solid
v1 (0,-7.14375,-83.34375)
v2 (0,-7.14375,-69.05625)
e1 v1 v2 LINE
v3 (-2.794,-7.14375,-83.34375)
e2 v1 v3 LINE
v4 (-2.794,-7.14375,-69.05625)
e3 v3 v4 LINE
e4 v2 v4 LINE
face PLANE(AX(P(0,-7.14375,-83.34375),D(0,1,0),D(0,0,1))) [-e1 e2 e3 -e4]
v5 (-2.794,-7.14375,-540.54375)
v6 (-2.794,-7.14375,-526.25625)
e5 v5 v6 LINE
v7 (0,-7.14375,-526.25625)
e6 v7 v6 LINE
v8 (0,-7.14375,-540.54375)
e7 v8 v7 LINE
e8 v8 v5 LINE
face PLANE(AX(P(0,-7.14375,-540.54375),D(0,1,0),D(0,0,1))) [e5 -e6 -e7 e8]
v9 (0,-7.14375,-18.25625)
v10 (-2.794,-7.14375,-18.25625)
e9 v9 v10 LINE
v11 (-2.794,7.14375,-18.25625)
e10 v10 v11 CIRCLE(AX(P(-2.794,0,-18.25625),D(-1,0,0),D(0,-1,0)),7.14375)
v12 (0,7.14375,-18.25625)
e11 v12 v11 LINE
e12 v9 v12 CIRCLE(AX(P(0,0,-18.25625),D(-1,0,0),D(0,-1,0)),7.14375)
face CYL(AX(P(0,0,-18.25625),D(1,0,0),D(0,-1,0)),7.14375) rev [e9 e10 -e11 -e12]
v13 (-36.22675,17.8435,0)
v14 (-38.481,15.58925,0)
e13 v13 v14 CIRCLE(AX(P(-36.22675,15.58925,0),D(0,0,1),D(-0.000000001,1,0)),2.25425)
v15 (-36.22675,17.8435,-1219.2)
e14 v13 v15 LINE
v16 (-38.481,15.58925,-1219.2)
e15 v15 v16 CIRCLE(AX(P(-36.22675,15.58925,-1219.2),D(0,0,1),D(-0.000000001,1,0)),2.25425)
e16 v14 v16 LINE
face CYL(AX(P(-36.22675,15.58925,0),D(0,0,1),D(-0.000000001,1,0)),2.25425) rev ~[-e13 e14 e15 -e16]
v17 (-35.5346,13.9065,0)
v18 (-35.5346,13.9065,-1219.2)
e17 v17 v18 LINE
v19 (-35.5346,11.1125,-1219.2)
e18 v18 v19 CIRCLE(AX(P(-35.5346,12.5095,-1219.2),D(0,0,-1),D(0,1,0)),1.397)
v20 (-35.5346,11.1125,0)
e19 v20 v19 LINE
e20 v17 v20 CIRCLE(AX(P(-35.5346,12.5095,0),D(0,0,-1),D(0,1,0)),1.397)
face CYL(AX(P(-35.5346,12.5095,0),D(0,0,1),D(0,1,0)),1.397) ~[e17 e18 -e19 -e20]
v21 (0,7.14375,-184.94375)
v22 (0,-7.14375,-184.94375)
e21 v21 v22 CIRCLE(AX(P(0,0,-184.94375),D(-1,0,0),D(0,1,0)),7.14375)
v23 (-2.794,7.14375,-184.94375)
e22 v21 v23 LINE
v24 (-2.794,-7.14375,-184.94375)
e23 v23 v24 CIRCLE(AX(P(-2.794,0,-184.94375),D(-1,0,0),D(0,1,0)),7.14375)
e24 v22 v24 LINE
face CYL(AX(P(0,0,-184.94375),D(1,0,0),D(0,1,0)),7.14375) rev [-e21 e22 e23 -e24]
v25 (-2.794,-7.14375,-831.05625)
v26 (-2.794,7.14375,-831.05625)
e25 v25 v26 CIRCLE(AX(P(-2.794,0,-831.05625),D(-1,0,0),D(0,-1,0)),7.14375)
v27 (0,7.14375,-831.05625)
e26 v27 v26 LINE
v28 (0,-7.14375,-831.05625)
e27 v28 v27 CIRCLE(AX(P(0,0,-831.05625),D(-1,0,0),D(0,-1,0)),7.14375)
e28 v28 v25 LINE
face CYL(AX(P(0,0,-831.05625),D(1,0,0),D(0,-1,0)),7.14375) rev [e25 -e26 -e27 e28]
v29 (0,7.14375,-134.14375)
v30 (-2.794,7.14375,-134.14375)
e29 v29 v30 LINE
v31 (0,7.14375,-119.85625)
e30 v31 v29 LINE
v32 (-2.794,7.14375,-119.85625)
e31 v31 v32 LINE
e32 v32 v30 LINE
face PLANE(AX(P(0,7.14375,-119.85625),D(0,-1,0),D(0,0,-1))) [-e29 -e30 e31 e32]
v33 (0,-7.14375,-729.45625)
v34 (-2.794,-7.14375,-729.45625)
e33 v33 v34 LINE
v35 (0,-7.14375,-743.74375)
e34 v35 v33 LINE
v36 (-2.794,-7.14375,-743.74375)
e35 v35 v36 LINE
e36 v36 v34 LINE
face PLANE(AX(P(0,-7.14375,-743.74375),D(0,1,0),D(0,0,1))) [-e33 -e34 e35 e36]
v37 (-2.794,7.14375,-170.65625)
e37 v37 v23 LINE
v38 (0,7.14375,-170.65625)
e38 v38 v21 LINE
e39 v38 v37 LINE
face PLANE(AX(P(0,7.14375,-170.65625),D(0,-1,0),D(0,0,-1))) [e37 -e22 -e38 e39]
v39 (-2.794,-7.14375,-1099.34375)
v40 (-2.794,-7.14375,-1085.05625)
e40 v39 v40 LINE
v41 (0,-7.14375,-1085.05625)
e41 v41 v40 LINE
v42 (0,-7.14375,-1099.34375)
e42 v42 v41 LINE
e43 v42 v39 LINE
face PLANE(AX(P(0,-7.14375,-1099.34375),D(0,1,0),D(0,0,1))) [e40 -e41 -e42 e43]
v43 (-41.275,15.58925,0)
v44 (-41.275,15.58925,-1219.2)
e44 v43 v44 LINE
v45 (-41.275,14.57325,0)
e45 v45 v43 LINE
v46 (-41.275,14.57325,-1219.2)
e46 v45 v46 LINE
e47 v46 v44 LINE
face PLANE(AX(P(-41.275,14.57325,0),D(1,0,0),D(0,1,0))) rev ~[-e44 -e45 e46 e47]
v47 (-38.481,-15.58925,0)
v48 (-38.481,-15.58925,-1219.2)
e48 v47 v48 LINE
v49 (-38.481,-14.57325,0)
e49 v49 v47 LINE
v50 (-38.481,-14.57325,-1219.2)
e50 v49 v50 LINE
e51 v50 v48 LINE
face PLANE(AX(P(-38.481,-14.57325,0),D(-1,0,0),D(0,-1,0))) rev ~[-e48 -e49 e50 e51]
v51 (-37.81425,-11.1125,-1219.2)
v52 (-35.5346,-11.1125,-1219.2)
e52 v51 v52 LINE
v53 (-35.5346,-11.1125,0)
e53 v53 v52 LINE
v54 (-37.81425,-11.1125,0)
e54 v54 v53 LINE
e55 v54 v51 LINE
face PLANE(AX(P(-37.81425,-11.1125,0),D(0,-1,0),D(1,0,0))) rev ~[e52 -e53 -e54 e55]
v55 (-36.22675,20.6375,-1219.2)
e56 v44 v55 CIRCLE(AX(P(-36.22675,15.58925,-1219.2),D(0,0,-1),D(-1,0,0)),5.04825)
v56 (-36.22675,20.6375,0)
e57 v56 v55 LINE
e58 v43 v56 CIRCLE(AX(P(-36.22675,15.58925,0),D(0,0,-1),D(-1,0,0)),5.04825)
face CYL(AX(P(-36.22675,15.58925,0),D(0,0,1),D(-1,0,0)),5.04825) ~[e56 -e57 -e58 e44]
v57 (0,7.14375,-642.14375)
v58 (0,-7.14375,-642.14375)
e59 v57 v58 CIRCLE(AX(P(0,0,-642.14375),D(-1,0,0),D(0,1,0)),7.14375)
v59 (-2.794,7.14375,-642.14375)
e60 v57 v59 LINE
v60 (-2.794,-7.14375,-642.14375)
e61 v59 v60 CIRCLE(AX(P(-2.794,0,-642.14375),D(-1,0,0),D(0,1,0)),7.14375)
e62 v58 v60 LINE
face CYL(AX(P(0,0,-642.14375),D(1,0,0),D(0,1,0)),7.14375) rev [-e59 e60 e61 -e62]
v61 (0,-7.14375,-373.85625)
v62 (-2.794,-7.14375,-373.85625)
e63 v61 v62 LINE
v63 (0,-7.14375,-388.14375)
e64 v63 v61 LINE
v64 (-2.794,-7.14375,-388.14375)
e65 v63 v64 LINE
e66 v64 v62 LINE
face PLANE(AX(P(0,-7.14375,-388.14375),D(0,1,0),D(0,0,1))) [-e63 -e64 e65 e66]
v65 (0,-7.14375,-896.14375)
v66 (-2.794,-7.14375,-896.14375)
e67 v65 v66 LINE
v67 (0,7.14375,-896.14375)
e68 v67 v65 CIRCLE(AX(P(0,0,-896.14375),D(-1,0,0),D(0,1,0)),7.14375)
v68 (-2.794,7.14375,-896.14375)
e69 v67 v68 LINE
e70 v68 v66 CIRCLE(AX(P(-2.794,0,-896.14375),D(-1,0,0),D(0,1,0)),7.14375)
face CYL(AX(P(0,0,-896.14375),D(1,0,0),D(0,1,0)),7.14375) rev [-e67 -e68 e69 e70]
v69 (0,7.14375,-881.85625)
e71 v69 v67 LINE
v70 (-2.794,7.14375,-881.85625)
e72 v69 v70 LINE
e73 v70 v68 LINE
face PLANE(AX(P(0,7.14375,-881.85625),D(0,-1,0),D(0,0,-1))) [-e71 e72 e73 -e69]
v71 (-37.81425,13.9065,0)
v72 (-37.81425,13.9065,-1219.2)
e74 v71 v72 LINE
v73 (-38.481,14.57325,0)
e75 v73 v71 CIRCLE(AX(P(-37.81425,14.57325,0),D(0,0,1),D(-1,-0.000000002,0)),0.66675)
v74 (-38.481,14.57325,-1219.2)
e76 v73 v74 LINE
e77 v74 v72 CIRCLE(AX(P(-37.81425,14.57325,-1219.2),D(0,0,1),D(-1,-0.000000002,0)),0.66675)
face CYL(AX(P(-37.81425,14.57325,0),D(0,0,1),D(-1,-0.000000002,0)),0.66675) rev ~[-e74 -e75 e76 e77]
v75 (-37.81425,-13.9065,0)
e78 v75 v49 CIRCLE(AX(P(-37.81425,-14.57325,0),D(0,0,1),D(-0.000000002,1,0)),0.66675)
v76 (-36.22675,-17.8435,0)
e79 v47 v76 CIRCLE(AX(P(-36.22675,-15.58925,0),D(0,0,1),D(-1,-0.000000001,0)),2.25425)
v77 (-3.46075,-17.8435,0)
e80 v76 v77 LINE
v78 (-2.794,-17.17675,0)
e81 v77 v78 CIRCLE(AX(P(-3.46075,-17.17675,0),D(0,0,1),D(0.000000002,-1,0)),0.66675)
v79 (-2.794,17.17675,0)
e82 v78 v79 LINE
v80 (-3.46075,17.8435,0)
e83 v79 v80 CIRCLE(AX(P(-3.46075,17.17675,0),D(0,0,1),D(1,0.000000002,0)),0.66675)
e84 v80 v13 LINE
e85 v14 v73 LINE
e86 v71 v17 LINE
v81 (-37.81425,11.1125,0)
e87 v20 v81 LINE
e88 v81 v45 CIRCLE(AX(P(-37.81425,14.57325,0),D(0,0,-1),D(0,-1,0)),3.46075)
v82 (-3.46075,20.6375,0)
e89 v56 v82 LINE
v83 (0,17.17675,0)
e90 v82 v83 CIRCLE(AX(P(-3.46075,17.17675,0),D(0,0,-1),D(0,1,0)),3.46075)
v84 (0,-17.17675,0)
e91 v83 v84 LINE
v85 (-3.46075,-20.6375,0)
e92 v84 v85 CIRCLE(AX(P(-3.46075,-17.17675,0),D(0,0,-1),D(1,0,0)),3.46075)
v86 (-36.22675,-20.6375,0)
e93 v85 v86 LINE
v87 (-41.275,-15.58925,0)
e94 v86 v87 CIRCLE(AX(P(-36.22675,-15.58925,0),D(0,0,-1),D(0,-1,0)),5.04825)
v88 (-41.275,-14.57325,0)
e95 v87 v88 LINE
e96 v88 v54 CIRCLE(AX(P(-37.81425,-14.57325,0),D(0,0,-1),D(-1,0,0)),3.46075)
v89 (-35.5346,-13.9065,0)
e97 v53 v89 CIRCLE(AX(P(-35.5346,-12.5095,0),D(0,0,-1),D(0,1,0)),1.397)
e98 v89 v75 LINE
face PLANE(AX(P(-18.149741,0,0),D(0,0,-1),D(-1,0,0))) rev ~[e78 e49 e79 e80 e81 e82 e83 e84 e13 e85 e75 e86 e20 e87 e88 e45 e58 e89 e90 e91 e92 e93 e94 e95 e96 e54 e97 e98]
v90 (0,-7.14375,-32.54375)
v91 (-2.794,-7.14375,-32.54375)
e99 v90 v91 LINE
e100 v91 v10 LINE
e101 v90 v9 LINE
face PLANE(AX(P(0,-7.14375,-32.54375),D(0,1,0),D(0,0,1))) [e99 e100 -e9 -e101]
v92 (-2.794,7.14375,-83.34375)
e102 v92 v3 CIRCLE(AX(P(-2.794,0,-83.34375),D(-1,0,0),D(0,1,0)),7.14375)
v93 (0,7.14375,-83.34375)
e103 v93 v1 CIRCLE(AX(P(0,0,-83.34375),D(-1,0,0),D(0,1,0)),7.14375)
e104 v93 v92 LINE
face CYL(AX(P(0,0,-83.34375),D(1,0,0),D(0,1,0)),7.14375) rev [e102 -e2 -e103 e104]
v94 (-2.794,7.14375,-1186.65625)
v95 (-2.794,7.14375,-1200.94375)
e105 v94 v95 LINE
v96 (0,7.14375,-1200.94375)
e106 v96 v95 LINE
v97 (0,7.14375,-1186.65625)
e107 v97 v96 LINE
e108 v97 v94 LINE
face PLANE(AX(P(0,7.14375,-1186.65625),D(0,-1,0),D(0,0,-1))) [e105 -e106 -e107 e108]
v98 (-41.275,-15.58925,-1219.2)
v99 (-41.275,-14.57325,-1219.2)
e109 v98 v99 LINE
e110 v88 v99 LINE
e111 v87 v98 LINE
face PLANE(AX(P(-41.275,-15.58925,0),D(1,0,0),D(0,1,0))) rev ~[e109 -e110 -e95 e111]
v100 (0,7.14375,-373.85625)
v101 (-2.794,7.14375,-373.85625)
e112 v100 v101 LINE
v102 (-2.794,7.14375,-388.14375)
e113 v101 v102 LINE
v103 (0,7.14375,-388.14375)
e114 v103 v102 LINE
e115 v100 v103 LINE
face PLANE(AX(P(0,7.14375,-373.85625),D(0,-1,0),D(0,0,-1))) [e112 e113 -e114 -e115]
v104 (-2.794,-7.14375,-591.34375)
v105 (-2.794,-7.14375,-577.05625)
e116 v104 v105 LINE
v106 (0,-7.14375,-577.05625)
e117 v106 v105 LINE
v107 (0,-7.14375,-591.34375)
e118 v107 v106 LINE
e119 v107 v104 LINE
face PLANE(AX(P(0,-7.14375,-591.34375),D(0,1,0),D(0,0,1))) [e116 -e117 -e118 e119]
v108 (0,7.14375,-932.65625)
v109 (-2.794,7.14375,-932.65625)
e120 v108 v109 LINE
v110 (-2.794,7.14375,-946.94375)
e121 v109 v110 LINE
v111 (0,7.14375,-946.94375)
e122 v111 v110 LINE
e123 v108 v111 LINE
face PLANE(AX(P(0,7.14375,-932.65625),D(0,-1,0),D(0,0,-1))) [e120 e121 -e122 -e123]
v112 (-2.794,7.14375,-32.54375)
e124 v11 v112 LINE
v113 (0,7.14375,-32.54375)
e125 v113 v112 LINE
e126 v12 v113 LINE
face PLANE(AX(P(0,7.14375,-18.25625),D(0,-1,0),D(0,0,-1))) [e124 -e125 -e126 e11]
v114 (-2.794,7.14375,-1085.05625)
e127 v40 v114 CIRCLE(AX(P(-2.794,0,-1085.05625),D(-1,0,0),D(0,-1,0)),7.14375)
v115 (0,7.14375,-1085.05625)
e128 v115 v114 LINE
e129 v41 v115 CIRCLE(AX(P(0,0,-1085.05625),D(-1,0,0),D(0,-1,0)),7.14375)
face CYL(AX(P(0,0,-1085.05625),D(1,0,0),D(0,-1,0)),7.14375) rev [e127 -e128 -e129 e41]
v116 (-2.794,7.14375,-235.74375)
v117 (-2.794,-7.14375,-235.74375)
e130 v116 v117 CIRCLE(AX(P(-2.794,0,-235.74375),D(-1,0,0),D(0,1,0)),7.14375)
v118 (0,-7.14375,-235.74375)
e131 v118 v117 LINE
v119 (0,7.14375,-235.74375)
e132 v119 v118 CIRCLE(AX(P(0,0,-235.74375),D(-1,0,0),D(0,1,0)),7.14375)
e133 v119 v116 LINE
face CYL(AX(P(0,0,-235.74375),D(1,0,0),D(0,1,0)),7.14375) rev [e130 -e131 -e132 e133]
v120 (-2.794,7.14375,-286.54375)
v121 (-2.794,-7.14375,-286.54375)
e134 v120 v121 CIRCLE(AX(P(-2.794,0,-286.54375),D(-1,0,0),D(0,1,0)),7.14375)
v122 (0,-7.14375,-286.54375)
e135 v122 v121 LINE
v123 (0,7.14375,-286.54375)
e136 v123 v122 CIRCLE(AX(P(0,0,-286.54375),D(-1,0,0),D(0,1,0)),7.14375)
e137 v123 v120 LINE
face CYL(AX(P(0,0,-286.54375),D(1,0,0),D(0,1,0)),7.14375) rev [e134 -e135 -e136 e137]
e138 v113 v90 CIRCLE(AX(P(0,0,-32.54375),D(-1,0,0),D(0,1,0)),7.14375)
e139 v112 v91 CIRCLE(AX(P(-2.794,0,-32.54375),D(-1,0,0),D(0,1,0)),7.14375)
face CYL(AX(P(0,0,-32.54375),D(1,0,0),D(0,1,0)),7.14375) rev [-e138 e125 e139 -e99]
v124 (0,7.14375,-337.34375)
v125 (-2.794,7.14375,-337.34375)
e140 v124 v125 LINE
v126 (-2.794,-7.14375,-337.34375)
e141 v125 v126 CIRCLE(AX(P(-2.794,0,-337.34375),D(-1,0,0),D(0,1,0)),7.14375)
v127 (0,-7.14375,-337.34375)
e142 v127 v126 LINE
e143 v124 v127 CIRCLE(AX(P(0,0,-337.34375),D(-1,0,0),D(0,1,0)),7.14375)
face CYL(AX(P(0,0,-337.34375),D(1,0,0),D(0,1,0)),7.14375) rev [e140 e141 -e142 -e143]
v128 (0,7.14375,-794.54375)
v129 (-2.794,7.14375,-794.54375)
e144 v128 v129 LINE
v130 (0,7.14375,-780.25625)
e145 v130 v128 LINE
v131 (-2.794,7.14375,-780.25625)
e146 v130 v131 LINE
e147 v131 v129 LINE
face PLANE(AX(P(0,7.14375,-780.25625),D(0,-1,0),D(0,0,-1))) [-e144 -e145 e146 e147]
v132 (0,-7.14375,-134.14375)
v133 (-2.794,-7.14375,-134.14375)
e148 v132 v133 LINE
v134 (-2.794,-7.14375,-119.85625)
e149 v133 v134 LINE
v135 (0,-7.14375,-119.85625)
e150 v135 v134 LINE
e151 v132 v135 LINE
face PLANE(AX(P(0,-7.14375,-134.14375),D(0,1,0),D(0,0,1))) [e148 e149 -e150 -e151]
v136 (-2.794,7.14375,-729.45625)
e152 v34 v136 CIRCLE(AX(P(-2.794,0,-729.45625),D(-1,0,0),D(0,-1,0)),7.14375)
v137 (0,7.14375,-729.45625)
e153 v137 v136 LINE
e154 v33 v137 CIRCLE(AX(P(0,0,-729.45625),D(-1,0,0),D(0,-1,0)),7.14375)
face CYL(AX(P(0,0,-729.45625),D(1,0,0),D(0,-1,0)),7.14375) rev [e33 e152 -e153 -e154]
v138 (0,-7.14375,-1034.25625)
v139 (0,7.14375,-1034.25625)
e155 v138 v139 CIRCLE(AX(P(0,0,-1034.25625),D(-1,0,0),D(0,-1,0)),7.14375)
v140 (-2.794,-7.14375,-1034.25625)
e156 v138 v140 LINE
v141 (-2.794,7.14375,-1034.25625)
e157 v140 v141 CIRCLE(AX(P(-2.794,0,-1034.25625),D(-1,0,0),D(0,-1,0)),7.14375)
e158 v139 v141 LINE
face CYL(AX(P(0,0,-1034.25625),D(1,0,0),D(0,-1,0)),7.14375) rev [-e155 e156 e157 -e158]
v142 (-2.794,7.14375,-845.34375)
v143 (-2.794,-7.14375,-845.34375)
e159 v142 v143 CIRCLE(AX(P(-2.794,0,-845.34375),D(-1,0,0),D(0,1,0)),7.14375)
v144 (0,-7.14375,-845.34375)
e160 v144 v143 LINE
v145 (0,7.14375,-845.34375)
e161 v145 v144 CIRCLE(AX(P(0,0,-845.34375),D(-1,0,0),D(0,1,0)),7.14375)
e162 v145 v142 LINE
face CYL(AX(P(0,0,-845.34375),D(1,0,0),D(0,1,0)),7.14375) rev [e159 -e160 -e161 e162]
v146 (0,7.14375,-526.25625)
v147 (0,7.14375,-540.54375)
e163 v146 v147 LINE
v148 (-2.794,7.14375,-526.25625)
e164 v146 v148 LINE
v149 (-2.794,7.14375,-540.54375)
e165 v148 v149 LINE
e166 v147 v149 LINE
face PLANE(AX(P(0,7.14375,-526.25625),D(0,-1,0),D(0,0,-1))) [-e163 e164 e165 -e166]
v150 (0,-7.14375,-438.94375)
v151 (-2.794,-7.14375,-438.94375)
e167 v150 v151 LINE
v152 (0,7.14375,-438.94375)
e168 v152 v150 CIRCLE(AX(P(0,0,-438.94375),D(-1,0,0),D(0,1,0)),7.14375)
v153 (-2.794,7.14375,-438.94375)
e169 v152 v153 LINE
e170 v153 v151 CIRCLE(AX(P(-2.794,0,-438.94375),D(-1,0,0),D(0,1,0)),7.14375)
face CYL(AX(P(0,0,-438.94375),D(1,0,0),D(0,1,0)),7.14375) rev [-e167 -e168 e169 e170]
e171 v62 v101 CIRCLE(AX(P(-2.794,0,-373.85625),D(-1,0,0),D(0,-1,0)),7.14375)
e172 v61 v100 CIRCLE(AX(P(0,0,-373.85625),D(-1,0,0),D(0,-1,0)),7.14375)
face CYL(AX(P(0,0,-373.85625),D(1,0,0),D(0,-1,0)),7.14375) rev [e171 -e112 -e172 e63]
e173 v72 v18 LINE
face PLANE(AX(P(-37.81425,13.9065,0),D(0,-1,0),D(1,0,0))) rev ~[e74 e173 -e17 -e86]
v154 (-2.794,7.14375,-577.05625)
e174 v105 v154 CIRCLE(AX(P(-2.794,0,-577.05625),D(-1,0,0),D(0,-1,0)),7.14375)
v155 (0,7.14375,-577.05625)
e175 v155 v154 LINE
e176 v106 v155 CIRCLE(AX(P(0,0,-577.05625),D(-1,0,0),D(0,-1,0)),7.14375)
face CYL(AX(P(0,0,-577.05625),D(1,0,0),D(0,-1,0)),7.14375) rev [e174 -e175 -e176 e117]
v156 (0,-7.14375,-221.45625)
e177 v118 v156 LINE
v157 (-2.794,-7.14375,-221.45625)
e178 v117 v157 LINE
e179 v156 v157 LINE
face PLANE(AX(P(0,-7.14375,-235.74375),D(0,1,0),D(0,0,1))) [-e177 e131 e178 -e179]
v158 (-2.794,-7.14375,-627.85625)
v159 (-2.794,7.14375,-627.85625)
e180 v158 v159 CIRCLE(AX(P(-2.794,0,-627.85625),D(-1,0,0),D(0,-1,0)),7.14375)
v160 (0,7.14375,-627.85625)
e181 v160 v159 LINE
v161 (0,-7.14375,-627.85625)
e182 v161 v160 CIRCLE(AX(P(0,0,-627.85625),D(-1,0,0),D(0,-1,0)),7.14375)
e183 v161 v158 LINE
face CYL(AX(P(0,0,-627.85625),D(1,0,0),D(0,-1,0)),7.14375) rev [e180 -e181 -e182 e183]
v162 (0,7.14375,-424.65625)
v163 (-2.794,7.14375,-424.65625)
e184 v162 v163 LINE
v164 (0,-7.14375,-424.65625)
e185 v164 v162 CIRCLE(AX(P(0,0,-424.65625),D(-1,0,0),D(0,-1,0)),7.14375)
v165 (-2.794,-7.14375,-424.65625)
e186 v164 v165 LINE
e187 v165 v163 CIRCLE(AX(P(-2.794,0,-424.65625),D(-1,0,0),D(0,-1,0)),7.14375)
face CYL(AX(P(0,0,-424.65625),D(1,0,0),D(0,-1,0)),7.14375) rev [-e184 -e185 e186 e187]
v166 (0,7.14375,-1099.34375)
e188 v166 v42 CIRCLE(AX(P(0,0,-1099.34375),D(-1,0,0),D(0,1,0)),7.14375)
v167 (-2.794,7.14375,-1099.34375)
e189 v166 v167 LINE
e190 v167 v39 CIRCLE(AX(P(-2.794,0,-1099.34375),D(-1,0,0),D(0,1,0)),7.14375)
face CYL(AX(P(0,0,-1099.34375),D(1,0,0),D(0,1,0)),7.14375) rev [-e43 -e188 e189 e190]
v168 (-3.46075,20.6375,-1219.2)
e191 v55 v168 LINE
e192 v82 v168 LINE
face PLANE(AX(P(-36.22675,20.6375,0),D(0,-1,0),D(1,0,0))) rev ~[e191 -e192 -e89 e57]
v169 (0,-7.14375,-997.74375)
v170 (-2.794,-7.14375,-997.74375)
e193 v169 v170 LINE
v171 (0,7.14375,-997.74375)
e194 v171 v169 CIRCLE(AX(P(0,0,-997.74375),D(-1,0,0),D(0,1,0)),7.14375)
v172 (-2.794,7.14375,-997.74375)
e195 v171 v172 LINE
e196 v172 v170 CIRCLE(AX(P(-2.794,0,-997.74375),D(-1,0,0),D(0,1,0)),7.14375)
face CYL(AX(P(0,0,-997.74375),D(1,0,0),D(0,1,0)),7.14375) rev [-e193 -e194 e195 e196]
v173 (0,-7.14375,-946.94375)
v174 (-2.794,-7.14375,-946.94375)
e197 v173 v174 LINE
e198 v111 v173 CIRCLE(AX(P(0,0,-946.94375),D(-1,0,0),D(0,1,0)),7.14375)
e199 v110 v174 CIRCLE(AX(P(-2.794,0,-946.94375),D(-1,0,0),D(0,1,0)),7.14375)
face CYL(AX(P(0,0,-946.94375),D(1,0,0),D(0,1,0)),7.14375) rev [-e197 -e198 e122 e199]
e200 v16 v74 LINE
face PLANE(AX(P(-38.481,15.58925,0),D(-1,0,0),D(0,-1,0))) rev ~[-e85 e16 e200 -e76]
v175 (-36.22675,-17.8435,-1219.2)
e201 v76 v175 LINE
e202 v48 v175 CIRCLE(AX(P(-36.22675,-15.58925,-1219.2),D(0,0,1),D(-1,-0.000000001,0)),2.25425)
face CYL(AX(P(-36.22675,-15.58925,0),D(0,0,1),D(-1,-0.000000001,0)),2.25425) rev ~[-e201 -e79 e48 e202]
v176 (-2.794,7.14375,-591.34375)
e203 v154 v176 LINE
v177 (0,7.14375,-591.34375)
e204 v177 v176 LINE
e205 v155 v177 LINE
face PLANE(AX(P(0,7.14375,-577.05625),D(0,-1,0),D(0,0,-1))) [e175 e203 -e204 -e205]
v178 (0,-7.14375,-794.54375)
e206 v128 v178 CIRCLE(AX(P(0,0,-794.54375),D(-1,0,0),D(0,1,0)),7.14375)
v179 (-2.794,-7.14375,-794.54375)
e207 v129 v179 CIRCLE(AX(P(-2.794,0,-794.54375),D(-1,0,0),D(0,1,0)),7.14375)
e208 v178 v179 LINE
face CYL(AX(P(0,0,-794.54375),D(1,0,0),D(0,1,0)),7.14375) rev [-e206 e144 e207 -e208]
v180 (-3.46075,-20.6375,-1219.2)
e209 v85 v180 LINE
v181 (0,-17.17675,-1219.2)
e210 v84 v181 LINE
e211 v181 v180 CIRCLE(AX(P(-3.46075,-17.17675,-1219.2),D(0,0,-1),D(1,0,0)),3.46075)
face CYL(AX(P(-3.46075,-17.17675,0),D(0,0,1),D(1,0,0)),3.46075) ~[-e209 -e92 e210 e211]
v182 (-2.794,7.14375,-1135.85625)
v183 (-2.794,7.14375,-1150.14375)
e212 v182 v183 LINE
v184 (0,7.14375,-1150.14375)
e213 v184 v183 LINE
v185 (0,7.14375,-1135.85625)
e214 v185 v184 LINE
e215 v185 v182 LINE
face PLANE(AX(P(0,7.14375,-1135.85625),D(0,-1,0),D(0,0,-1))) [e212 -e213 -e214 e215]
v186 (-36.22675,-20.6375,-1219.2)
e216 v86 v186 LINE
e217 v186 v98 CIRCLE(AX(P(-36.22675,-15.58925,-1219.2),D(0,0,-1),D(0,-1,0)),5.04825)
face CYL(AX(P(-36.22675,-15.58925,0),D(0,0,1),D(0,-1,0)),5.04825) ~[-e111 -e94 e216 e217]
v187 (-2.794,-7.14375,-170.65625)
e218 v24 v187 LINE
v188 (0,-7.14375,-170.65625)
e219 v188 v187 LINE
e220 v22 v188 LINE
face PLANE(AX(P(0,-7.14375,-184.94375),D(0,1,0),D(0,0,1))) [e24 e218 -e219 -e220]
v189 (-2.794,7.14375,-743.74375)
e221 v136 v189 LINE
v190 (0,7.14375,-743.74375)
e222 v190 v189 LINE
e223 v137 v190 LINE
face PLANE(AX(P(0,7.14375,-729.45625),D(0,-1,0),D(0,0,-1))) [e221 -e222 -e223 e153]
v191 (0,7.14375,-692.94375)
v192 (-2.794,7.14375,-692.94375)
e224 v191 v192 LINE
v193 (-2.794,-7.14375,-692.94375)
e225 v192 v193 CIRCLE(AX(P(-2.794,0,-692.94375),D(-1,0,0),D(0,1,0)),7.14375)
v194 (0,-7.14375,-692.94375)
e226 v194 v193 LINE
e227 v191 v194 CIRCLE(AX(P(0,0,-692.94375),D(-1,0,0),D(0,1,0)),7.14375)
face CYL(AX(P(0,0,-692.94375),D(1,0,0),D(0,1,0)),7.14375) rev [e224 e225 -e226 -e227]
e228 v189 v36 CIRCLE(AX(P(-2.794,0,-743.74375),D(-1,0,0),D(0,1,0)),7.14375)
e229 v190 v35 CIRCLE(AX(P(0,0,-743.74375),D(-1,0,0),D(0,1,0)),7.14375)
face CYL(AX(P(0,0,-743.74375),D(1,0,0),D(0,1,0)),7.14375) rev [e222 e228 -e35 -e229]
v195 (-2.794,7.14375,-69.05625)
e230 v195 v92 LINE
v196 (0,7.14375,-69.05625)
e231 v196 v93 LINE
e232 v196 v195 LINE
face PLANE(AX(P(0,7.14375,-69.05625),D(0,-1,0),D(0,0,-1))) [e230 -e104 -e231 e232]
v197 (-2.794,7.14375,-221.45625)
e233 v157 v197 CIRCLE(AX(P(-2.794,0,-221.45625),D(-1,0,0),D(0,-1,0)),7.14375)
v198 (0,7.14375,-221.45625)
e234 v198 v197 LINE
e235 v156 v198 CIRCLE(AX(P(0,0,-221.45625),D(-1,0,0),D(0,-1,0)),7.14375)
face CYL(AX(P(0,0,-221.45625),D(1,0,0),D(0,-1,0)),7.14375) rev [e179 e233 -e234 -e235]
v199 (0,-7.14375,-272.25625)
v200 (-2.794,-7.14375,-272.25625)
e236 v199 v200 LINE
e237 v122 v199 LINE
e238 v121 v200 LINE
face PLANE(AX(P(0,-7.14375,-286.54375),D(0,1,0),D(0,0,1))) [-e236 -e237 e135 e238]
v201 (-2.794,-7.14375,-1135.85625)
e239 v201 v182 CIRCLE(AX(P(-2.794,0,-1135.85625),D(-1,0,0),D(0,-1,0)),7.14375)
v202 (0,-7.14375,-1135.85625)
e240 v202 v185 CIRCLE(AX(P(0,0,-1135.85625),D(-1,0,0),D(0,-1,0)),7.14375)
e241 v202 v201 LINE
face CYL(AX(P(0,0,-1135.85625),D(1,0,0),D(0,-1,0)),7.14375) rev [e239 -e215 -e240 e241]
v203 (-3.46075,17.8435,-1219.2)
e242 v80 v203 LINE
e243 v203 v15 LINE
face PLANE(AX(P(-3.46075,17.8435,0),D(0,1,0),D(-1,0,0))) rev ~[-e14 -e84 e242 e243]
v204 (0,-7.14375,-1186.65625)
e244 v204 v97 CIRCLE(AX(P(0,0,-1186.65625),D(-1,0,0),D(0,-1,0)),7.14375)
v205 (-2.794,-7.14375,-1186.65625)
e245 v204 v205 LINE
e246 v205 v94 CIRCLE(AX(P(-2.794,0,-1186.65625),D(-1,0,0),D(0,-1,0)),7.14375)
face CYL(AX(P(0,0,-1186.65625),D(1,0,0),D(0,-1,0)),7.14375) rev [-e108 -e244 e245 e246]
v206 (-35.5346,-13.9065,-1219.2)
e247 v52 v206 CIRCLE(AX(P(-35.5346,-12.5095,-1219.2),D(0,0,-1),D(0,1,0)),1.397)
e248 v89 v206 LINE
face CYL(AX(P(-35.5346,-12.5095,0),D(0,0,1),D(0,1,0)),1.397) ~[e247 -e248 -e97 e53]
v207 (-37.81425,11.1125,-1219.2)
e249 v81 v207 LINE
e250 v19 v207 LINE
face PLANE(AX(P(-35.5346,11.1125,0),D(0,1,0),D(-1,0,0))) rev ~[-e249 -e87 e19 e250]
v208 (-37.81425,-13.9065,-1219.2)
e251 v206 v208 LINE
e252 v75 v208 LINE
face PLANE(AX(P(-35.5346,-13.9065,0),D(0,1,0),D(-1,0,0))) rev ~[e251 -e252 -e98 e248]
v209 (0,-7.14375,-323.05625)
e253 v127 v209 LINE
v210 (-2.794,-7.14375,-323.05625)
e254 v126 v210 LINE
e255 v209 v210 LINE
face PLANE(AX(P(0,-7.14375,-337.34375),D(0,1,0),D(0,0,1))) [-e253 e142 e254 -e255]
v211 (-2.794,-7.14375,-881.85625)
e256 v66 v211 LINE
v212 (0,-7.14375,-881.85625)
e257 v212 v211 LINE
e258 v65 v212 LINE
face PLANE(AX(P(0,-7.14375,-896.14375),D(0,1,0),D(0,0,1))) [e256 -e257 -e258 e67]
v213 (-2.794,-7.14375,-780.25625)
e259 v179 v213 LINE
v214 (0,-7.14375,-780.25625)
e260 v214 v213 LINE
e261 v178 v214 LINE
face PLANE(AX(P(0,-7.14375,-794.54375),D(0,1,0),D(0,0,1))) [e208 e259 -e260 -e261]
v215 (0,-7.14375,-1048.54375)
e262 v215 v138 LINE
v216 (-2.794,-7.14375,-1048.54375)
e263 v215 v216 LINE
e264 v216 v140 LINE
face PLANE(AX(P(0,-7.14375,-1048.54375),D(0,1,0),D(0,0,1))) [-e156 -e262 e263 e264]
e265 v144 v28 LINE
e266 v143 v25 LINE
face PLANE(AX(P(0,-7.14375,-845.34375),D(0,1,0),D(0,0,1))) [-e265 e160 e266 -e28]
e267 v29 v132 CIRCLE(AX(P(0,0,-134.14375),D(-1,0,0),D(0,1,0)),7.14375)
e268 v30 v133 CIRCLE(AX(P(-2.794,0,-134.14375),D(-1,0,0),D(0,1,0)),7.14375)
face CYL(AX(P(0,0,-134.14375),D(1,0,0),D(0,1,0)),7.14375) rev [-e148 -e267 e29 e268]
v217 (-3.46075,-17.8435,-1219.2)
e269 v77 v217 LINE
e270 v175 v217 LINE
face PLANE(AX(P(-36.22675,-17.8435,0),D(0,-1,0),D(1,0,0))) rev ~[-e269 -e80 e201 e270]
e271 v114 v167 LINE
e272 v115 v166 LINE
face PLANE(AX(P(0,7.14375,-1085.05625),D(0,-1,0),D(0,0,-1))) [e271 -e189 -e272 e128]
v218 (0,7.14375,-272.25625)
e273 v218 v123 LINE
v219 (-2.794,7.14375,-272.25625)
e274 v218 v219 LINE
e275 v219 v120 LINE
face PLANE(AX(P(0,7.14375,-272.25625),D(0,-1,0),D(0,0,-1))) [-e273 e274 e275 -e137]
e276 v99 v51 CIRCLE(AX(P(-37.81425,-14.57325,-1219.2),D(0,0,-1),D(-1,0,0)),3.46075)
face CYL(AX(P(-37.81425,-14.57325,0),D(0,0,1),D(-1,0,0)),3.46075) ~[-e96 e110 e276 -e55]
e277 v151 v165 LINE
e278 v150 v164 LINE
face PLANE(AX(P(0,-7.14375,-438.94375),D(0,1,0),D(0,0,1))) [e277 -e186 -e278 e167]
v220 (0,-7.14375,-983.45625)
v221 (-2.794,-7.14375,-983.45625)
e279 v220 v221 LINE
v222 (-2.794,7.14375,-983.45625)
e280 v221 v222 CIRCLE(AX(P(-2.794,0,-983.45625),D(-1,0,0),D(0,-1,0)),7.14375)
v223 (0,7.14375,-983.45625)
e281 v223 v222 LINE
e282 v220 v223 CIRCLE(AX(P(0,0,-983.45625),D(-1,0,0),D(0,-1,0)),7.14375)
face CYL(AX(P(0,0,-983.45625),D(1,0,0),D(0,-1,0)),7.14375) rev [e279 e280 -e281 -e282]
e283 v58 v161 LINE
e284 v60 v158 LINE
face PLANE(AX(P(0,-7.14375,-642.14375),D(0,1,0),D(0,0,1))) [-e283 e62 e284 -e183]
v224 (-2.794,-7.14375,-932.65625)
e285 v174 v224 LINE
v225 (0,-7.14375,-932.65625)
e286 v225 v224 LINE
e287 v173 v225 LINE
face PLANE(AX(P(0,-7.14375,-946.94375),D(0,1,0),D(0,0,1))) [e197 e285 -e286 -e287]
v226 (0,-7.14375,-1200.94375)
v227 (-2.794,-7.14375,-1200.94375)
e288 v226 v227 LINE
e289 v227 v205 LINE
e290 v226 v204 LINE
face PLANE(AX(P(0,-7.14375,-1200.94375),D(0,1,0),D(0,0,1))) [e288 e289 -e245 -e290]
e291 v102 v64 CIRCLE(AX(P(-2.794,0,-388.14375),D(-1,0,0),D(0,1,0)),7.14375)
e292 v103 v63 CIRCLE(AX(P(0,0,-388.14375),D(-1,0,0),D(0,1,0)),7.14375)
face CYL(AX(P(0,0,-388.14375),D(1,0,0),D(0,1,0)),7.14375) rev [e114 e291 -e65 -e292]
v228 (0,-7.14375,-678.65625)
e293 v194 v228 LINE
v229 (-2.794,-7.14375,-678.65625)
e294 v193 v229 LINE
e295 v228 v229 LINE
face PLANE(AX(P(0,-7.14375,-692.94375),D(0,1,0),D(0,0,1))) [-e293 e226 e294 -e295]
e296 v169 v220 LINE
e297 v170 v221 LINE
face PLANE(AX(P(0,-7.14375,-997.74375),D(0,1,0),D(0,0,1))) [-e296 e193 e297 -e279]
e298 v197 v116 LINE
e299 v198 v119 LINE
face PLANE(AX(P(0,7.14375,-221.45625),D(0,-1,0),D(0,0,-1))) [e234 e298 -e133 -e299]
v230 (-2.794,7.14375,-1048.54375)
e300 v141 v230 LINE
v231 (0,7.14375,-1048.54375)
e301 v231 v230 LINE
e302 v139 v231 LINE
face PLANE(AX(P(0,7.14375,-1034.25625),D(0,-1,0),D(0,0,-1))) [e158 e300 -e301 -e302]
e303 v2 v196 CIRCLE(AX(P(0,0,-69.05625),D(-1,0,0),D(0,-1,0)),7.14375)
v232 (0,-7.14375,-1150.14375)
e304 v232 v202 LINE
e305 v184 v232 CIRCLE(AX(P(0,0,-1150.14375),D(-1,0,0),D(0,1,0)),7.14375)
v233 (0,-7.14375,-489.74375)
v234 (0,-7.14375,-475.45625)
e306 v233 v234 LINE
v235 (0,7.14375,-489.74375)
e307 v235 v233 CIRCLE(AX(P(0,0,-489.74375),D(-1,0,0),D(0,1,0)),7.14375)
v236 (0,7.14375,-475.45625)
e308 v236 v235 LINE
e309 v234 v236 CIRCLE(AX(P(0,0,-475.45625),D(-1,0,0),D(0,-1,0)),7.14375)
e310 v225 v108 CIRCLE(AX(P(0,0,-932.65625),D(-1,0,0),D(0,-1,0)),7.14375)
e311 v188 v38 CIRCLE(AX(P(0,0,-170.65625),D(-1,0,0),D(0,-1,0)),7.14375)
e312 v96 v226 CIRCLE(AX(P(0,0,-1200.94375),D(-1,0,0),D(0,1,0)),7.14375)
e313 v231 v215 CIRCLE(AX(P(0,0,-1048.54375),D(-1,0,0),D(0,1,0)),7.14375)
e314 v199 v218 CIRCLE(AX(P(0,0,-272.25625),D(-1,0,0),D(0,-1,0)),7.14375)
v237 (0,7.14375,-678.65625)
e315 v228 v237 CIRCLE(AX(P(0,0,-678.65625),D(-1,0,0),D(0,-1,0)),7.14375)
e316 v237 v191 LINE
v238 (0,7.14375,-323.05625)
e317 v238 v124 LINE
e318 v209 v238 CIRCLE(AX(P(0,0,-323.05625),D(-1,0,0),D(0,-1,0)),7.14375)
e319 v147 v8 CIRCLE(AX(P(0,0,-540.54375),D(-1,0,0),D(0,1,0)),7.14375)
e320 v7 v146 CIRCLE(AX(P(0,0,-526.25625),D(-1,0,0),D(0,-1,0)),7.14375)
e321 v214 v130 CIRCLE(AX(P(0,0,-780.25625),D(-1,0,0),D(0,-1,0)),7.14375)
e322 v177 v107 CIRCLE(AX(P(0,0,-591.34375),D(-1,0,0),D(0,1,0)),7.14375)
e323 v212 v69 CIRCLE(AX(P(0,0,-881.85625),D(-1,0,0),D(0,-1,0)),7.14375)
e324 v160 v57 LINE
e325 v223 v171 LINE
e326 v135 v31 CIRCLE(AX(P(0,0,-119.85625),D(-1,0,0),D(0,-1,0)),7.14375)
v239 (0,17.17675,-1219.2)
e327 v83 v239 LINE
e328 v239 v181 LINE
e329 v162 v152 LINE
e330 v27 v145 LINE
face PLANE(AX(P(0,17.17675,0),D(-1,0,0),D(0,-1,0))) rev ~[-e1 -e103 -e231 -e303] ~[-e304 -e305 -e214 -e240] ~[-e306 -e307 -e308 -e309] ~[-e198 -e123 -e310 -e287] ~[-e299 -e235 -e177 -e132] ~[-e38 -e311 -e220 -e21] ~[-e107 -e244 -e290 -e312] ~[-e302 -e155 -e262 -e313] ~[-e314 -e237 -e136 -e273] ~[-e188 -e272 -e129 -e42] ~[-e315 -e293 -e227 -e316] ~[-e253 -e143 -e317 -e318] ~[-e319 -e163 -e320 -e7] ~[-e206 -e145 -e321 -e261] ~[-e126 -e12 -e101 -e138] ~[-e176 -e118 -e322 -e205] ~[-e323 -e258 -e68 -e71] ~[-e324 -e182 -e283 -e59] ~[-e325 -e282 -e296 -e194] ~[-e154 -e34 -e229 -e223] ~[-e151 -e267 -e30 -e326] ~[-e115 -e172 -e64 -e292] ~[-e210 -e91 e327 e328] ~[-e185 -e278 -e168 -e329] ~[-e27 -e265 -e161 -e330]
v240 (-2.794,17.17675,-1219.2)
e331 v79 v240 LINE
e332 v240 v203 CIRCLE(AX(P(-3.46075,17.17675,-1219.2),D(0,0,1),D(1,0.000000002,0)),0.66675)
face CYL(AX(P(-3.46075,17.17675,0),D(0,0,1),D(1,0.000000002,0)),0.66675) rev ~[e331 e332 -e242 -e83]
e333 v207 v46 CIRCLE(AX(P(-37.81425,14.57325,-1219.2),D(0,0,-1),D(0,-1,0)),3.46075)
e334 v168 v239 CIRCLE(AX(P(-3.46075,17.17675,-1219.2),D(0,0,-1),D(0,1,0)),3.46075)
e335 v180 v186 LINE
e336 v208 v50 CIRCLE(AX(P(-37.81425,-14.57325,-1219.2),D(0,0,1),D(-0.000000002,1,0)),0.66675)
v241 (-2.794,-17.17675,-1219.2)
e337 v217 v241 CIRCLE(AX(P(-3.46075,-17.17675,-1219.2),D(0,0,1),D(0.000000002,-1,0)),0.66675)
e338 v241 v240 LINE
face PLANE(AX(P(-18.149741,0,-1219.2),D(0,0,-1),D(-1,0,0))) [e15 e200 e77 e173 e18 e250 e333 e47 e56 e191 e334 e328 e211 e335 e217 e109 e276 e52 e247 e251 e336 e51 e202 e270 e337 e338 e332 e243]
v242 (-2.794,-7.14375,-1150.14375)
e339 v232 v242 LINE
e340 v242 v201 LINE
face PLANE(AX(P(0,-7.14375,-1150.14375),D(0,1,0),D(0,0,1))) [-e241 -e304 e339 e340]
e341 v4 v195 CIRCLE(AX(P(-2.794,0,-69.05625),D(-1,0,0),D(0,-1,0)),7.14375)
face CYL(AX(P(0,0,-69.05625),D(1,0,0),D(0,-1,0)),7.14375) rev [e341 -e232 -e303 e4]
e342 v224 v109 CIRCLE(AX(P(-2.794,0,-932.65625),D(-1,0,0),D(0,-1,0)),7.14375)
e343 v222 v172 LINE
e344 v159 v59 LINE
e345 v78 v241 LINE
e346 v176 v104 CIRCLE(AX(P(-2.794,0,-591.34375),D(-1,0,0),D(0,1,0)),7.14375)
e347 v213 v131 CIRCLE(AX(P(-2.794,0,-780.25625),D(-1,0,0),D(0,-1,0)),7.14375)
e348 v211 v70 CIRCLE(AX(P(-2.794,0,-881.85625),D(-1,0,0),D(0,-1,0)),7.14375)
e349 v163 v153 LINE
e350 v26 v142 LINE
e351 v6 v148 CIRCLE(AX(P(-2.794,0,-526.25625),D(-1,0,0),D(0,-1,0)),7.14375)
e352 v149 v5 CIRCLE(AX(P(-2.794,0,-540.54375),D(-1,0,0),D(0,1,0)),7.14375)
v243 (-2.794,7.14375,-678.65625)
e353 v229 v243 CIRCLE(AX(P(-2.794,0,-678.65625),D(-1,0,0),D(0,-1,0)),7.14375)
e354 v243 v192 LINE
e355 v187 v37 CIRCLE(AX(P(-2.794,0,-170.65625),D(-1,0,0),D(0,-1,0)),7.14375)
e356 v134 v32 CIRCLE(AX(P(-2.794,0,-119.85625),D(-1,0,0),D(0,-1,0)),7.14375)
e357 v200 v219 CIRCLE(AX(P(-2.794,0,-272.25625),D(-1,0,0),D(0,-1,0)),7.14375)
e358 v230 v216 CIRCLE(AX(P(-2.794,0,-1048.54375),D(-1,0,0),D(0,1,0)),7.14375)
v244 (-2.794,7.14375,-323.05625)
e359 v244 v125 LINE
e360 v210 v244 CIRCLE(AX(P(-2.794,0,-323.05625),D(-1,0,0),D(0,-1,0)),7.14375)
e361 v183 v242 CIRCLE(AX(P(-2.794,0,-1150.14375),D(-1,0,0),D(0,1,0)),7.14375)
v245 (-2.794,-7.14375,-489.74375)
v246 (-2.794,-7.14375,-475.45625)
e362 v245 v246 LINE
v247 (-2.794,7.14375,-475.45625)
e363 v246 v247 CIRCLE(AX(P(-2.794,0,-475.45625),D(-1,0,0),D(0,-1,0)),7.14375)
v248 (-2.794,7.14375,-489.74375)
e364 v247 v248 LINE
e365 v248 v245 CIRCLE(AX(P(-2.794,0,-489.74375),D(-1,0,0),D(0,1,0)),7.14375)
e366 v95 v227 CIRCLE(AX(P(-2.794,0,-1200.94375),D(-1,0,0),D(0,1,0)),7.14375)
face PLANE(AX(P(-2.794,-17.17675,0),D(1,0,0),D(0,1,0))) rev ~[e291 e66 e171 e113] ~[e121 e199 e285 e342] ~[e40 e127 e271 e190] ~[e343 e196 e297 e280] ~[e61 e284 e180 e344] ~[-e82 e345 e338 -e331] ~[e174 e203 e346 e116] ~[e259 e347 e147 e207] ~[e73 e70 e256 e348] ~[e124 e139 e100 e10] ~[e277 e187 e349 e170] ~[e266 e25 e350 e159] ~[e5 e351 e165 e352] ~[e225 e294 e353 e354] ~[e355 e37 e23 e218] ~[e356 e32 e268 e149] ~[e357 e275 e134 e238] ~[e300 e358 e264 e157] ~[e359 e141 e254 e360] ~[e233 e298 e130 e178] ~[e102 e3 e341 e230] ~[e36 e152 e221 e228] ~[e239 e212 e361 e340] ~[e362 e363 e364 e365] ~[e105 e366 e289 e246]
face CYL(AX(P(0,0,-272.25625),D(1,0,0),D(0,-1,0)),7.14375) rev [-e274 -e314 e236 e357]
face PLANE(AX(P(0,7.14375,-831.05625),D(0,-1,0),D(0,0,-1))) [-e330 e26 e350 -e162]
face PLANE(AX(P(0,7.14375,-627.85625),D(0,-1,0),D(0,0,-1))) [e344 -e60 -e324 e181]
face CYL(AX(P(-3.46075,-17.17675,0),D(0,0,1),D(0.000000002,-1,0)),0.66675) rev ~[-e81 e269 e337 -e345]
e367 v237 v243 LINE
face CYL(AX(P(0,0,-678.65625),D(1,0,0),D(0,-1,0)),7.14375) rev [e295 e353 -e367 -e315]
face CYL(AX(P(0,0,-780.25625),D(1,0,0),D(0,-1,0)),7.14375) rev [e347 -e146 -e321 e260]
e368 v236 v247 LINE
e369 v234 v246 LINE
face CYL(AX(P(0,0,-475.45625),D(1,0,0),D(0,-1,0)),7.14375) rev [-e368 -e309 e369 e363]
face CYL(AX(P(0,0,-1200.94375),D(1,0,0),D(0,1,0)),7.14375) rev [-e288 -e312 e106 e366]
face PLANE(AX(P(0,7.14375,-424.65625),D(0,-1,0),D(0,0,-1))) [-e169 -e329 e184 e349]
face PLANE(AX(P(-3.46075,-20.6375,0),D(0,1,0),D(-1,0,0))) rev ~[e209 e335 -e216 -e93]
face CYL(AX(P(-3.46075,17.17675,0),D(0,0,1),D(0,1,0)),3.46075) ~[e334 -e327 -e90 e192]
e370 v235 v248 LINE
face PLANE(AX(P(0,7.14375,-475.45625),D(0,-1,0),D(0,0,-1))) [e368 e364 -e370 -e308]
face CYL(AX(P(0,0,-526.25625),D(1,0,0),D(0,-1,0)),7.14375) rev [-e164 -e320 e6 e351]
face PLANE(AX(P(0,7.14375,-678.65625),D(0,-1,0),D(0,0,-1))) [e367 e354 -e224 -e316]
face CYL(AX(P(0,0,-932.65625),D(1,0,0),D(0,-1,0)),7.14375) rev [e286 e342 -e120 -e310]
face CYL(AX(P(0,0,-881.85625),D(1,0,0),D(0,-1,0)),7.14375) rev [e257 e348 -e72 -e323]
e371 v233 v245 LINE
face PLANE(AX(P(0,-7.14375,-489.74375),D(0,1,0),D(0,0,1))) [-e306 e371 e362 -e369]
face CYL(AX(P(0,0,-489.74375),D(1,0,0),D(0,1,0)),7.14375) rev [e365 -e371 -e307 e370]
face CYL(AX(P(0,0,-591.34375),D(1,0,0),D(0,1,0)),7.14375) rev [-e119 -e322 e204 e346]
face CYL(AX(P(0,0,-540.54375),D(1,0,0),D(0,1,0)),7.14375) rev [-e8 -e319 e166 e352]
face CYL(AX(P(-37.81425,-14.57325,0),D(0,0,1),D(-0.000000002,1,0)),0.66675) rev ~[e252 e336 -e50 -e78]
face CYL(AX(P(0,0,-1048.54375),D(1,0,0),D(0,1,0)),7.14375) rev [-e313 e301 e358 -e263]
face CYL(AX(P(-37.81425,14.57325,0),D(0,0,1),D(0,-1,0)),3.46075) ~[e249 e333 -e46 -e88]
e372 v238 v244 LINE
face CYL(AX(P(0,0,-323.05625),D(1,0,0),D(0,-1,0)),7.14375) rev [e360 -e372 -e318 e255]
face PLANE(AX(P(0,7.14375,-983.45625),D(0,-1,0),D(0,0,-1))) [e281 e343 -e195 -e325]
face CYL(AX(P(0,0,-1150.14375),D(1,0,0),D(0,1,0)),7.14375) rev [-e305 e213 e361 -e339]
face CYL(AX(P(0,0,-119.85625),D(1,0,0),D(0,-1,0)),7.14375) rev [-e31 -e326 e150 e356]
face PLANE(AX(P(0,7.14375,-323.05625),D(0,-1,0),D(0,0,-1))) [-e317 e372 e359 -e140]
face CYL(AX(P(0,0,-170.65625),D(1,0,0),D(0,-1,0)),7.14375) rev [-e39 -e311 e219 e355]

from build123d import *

# Parameters (mm, degrees)
BOSS_EXTRUDE1_DEPTH = 1219.2
CUT_EXTRUDE1_DEPTH  = 2.794
LPATTERN1_COUNT     = 24
LPATTERN1_PITCH     = 50.8


with BuildPart() as part:
    # Sketch1 → Boss-Extrude1 (new body)
    with BuildSketch(Plane.XY):
        with BuildLine():
            Line((-36.22675, 20.6375), (-3.46075, 20.6375))
            ThreePointArc((-3.46075, 20.6375), (-1.013630207, 19.623869793), (0, 17.17675))
            Line((0, 17.17675), (0, -17.17675))
            ThreePointArc((0, -17.17675), (-1.013630207, -19.623869793), (-3.46075, -20.6375))
            Line((-3.46075, -20.6375), (-36.22675, -20.6375))
            ThreePointArc((-36.22675, -20.6375), (-39.796401808, -19.158901808), (-41.275, -15.58925))
            Line((-41.275, -15.58925), (-41.275, -14.57325))
            ThreePointArc((-41.275, -14.57325), (-40.261369793, -12.126130207), (-37.81425, -11.1125))
            Line((-37.81425, -11.1125), (-35.5346, -11.1125))
            ThreePointArc((-35.5346, -11.1125), (-34.1376, -12.5095), (-35.5346, -13.9065))
            Line((-35.5346, -13.9065), (-37.81425, -13.9065))
            ThreePointArc((-37.81425, -13.9065), (-38.285713446, -14.101786554), (-38.481, -14.57325))
            Line((-38.481, -14.57325), (-38.481, -15.58925))
            ThreePointArc((-38.481, -15.58925), (-37.820745461, -17.183245461), (-36.22675, -17.8435))
            Line((-36.22675, -17.8435), (-3.46075, -17.8435))
            ThreePointArc((-3.46075, -17.8435), (-2.989286554, -17.648213446), (-2.794, -17.17675))
            Line((-2.794, -17.17675), (-2.794, 17.17675))
            ThreePointArc((-2.794, 17.17675), (-2.989286554, 17.648213446), (-3.46075, 17.8435))
            Line((-3.46075, 17.8435), (-36.22675, 17.8435))
            ThreePointArc((-36.22675, 17.8435), (-37.820745461, 17.183245461), (-38.481, 15.58925))
            Line((-38.481, 15.58925), (-38.481, 14.57325))
            ThreePointArc((-38.481, 14.57325), (-38.285713446, 14.101786554), (-37.81425, 13.9065))
            Line((-37.81425, 13.9065), (-35.5346, 13.9065))
            ThreePointArc((-35.5346, 13.9065), (-34.1376, 12.5095), (-35.5346, 11.1125))
            Line((-35.5346, 11.1125), (-37.81425, 11.1125))
            ThreePointArc((-37.81425, 11.1125), (-40.261369793, 12.126130207), (-41.275, 14.57325))
            Line((-41.275, 14.57325), (-41.275, 15.58925))
            ThreePointArc((-41.275, 15.58925), (-39.796401808, 19.158901808), (-36.22675, 20.6375))
        make_face()
    extrude(amount=-BOSS_EXTRUDE1_DEPTH)

    # Sketch2 → Cut-Extrude1 (cut)
    with BuildSketch(Plane(origin=(0, 0, 0), x_dir=(0, 0, -1), z_dir=(1, 0, 0))):
        with BuildLine():
            Line((18.25625, 7.14375), (32.54375, 7.14375))
            ThreePointArc((32.54375, 7.14375), (39.6875, 0), (32.54375, -7.14375))
            Line((32.54375, -7.14375), (18.25625, -7.14375))
            ThreePointArc((18.25625, -7.14375), (11.1125, 0), (18.25625, 7.14375))
        make_face()
    cut_extrude1 = extrude(amount=-CUT_EXTRUDE1_DEPTH, mode=Mode.SUBTRACT)

    # LPattern1: Cut-Extrude1 ×24
    with Locations(*[(0, 0, -i * LPATTERN1_PITCH) for i in range(1, LPATTERN1_COUNT)]):
        add(cut_extrude1, mode=Mode.SUBTRACT)


solid = part.part
